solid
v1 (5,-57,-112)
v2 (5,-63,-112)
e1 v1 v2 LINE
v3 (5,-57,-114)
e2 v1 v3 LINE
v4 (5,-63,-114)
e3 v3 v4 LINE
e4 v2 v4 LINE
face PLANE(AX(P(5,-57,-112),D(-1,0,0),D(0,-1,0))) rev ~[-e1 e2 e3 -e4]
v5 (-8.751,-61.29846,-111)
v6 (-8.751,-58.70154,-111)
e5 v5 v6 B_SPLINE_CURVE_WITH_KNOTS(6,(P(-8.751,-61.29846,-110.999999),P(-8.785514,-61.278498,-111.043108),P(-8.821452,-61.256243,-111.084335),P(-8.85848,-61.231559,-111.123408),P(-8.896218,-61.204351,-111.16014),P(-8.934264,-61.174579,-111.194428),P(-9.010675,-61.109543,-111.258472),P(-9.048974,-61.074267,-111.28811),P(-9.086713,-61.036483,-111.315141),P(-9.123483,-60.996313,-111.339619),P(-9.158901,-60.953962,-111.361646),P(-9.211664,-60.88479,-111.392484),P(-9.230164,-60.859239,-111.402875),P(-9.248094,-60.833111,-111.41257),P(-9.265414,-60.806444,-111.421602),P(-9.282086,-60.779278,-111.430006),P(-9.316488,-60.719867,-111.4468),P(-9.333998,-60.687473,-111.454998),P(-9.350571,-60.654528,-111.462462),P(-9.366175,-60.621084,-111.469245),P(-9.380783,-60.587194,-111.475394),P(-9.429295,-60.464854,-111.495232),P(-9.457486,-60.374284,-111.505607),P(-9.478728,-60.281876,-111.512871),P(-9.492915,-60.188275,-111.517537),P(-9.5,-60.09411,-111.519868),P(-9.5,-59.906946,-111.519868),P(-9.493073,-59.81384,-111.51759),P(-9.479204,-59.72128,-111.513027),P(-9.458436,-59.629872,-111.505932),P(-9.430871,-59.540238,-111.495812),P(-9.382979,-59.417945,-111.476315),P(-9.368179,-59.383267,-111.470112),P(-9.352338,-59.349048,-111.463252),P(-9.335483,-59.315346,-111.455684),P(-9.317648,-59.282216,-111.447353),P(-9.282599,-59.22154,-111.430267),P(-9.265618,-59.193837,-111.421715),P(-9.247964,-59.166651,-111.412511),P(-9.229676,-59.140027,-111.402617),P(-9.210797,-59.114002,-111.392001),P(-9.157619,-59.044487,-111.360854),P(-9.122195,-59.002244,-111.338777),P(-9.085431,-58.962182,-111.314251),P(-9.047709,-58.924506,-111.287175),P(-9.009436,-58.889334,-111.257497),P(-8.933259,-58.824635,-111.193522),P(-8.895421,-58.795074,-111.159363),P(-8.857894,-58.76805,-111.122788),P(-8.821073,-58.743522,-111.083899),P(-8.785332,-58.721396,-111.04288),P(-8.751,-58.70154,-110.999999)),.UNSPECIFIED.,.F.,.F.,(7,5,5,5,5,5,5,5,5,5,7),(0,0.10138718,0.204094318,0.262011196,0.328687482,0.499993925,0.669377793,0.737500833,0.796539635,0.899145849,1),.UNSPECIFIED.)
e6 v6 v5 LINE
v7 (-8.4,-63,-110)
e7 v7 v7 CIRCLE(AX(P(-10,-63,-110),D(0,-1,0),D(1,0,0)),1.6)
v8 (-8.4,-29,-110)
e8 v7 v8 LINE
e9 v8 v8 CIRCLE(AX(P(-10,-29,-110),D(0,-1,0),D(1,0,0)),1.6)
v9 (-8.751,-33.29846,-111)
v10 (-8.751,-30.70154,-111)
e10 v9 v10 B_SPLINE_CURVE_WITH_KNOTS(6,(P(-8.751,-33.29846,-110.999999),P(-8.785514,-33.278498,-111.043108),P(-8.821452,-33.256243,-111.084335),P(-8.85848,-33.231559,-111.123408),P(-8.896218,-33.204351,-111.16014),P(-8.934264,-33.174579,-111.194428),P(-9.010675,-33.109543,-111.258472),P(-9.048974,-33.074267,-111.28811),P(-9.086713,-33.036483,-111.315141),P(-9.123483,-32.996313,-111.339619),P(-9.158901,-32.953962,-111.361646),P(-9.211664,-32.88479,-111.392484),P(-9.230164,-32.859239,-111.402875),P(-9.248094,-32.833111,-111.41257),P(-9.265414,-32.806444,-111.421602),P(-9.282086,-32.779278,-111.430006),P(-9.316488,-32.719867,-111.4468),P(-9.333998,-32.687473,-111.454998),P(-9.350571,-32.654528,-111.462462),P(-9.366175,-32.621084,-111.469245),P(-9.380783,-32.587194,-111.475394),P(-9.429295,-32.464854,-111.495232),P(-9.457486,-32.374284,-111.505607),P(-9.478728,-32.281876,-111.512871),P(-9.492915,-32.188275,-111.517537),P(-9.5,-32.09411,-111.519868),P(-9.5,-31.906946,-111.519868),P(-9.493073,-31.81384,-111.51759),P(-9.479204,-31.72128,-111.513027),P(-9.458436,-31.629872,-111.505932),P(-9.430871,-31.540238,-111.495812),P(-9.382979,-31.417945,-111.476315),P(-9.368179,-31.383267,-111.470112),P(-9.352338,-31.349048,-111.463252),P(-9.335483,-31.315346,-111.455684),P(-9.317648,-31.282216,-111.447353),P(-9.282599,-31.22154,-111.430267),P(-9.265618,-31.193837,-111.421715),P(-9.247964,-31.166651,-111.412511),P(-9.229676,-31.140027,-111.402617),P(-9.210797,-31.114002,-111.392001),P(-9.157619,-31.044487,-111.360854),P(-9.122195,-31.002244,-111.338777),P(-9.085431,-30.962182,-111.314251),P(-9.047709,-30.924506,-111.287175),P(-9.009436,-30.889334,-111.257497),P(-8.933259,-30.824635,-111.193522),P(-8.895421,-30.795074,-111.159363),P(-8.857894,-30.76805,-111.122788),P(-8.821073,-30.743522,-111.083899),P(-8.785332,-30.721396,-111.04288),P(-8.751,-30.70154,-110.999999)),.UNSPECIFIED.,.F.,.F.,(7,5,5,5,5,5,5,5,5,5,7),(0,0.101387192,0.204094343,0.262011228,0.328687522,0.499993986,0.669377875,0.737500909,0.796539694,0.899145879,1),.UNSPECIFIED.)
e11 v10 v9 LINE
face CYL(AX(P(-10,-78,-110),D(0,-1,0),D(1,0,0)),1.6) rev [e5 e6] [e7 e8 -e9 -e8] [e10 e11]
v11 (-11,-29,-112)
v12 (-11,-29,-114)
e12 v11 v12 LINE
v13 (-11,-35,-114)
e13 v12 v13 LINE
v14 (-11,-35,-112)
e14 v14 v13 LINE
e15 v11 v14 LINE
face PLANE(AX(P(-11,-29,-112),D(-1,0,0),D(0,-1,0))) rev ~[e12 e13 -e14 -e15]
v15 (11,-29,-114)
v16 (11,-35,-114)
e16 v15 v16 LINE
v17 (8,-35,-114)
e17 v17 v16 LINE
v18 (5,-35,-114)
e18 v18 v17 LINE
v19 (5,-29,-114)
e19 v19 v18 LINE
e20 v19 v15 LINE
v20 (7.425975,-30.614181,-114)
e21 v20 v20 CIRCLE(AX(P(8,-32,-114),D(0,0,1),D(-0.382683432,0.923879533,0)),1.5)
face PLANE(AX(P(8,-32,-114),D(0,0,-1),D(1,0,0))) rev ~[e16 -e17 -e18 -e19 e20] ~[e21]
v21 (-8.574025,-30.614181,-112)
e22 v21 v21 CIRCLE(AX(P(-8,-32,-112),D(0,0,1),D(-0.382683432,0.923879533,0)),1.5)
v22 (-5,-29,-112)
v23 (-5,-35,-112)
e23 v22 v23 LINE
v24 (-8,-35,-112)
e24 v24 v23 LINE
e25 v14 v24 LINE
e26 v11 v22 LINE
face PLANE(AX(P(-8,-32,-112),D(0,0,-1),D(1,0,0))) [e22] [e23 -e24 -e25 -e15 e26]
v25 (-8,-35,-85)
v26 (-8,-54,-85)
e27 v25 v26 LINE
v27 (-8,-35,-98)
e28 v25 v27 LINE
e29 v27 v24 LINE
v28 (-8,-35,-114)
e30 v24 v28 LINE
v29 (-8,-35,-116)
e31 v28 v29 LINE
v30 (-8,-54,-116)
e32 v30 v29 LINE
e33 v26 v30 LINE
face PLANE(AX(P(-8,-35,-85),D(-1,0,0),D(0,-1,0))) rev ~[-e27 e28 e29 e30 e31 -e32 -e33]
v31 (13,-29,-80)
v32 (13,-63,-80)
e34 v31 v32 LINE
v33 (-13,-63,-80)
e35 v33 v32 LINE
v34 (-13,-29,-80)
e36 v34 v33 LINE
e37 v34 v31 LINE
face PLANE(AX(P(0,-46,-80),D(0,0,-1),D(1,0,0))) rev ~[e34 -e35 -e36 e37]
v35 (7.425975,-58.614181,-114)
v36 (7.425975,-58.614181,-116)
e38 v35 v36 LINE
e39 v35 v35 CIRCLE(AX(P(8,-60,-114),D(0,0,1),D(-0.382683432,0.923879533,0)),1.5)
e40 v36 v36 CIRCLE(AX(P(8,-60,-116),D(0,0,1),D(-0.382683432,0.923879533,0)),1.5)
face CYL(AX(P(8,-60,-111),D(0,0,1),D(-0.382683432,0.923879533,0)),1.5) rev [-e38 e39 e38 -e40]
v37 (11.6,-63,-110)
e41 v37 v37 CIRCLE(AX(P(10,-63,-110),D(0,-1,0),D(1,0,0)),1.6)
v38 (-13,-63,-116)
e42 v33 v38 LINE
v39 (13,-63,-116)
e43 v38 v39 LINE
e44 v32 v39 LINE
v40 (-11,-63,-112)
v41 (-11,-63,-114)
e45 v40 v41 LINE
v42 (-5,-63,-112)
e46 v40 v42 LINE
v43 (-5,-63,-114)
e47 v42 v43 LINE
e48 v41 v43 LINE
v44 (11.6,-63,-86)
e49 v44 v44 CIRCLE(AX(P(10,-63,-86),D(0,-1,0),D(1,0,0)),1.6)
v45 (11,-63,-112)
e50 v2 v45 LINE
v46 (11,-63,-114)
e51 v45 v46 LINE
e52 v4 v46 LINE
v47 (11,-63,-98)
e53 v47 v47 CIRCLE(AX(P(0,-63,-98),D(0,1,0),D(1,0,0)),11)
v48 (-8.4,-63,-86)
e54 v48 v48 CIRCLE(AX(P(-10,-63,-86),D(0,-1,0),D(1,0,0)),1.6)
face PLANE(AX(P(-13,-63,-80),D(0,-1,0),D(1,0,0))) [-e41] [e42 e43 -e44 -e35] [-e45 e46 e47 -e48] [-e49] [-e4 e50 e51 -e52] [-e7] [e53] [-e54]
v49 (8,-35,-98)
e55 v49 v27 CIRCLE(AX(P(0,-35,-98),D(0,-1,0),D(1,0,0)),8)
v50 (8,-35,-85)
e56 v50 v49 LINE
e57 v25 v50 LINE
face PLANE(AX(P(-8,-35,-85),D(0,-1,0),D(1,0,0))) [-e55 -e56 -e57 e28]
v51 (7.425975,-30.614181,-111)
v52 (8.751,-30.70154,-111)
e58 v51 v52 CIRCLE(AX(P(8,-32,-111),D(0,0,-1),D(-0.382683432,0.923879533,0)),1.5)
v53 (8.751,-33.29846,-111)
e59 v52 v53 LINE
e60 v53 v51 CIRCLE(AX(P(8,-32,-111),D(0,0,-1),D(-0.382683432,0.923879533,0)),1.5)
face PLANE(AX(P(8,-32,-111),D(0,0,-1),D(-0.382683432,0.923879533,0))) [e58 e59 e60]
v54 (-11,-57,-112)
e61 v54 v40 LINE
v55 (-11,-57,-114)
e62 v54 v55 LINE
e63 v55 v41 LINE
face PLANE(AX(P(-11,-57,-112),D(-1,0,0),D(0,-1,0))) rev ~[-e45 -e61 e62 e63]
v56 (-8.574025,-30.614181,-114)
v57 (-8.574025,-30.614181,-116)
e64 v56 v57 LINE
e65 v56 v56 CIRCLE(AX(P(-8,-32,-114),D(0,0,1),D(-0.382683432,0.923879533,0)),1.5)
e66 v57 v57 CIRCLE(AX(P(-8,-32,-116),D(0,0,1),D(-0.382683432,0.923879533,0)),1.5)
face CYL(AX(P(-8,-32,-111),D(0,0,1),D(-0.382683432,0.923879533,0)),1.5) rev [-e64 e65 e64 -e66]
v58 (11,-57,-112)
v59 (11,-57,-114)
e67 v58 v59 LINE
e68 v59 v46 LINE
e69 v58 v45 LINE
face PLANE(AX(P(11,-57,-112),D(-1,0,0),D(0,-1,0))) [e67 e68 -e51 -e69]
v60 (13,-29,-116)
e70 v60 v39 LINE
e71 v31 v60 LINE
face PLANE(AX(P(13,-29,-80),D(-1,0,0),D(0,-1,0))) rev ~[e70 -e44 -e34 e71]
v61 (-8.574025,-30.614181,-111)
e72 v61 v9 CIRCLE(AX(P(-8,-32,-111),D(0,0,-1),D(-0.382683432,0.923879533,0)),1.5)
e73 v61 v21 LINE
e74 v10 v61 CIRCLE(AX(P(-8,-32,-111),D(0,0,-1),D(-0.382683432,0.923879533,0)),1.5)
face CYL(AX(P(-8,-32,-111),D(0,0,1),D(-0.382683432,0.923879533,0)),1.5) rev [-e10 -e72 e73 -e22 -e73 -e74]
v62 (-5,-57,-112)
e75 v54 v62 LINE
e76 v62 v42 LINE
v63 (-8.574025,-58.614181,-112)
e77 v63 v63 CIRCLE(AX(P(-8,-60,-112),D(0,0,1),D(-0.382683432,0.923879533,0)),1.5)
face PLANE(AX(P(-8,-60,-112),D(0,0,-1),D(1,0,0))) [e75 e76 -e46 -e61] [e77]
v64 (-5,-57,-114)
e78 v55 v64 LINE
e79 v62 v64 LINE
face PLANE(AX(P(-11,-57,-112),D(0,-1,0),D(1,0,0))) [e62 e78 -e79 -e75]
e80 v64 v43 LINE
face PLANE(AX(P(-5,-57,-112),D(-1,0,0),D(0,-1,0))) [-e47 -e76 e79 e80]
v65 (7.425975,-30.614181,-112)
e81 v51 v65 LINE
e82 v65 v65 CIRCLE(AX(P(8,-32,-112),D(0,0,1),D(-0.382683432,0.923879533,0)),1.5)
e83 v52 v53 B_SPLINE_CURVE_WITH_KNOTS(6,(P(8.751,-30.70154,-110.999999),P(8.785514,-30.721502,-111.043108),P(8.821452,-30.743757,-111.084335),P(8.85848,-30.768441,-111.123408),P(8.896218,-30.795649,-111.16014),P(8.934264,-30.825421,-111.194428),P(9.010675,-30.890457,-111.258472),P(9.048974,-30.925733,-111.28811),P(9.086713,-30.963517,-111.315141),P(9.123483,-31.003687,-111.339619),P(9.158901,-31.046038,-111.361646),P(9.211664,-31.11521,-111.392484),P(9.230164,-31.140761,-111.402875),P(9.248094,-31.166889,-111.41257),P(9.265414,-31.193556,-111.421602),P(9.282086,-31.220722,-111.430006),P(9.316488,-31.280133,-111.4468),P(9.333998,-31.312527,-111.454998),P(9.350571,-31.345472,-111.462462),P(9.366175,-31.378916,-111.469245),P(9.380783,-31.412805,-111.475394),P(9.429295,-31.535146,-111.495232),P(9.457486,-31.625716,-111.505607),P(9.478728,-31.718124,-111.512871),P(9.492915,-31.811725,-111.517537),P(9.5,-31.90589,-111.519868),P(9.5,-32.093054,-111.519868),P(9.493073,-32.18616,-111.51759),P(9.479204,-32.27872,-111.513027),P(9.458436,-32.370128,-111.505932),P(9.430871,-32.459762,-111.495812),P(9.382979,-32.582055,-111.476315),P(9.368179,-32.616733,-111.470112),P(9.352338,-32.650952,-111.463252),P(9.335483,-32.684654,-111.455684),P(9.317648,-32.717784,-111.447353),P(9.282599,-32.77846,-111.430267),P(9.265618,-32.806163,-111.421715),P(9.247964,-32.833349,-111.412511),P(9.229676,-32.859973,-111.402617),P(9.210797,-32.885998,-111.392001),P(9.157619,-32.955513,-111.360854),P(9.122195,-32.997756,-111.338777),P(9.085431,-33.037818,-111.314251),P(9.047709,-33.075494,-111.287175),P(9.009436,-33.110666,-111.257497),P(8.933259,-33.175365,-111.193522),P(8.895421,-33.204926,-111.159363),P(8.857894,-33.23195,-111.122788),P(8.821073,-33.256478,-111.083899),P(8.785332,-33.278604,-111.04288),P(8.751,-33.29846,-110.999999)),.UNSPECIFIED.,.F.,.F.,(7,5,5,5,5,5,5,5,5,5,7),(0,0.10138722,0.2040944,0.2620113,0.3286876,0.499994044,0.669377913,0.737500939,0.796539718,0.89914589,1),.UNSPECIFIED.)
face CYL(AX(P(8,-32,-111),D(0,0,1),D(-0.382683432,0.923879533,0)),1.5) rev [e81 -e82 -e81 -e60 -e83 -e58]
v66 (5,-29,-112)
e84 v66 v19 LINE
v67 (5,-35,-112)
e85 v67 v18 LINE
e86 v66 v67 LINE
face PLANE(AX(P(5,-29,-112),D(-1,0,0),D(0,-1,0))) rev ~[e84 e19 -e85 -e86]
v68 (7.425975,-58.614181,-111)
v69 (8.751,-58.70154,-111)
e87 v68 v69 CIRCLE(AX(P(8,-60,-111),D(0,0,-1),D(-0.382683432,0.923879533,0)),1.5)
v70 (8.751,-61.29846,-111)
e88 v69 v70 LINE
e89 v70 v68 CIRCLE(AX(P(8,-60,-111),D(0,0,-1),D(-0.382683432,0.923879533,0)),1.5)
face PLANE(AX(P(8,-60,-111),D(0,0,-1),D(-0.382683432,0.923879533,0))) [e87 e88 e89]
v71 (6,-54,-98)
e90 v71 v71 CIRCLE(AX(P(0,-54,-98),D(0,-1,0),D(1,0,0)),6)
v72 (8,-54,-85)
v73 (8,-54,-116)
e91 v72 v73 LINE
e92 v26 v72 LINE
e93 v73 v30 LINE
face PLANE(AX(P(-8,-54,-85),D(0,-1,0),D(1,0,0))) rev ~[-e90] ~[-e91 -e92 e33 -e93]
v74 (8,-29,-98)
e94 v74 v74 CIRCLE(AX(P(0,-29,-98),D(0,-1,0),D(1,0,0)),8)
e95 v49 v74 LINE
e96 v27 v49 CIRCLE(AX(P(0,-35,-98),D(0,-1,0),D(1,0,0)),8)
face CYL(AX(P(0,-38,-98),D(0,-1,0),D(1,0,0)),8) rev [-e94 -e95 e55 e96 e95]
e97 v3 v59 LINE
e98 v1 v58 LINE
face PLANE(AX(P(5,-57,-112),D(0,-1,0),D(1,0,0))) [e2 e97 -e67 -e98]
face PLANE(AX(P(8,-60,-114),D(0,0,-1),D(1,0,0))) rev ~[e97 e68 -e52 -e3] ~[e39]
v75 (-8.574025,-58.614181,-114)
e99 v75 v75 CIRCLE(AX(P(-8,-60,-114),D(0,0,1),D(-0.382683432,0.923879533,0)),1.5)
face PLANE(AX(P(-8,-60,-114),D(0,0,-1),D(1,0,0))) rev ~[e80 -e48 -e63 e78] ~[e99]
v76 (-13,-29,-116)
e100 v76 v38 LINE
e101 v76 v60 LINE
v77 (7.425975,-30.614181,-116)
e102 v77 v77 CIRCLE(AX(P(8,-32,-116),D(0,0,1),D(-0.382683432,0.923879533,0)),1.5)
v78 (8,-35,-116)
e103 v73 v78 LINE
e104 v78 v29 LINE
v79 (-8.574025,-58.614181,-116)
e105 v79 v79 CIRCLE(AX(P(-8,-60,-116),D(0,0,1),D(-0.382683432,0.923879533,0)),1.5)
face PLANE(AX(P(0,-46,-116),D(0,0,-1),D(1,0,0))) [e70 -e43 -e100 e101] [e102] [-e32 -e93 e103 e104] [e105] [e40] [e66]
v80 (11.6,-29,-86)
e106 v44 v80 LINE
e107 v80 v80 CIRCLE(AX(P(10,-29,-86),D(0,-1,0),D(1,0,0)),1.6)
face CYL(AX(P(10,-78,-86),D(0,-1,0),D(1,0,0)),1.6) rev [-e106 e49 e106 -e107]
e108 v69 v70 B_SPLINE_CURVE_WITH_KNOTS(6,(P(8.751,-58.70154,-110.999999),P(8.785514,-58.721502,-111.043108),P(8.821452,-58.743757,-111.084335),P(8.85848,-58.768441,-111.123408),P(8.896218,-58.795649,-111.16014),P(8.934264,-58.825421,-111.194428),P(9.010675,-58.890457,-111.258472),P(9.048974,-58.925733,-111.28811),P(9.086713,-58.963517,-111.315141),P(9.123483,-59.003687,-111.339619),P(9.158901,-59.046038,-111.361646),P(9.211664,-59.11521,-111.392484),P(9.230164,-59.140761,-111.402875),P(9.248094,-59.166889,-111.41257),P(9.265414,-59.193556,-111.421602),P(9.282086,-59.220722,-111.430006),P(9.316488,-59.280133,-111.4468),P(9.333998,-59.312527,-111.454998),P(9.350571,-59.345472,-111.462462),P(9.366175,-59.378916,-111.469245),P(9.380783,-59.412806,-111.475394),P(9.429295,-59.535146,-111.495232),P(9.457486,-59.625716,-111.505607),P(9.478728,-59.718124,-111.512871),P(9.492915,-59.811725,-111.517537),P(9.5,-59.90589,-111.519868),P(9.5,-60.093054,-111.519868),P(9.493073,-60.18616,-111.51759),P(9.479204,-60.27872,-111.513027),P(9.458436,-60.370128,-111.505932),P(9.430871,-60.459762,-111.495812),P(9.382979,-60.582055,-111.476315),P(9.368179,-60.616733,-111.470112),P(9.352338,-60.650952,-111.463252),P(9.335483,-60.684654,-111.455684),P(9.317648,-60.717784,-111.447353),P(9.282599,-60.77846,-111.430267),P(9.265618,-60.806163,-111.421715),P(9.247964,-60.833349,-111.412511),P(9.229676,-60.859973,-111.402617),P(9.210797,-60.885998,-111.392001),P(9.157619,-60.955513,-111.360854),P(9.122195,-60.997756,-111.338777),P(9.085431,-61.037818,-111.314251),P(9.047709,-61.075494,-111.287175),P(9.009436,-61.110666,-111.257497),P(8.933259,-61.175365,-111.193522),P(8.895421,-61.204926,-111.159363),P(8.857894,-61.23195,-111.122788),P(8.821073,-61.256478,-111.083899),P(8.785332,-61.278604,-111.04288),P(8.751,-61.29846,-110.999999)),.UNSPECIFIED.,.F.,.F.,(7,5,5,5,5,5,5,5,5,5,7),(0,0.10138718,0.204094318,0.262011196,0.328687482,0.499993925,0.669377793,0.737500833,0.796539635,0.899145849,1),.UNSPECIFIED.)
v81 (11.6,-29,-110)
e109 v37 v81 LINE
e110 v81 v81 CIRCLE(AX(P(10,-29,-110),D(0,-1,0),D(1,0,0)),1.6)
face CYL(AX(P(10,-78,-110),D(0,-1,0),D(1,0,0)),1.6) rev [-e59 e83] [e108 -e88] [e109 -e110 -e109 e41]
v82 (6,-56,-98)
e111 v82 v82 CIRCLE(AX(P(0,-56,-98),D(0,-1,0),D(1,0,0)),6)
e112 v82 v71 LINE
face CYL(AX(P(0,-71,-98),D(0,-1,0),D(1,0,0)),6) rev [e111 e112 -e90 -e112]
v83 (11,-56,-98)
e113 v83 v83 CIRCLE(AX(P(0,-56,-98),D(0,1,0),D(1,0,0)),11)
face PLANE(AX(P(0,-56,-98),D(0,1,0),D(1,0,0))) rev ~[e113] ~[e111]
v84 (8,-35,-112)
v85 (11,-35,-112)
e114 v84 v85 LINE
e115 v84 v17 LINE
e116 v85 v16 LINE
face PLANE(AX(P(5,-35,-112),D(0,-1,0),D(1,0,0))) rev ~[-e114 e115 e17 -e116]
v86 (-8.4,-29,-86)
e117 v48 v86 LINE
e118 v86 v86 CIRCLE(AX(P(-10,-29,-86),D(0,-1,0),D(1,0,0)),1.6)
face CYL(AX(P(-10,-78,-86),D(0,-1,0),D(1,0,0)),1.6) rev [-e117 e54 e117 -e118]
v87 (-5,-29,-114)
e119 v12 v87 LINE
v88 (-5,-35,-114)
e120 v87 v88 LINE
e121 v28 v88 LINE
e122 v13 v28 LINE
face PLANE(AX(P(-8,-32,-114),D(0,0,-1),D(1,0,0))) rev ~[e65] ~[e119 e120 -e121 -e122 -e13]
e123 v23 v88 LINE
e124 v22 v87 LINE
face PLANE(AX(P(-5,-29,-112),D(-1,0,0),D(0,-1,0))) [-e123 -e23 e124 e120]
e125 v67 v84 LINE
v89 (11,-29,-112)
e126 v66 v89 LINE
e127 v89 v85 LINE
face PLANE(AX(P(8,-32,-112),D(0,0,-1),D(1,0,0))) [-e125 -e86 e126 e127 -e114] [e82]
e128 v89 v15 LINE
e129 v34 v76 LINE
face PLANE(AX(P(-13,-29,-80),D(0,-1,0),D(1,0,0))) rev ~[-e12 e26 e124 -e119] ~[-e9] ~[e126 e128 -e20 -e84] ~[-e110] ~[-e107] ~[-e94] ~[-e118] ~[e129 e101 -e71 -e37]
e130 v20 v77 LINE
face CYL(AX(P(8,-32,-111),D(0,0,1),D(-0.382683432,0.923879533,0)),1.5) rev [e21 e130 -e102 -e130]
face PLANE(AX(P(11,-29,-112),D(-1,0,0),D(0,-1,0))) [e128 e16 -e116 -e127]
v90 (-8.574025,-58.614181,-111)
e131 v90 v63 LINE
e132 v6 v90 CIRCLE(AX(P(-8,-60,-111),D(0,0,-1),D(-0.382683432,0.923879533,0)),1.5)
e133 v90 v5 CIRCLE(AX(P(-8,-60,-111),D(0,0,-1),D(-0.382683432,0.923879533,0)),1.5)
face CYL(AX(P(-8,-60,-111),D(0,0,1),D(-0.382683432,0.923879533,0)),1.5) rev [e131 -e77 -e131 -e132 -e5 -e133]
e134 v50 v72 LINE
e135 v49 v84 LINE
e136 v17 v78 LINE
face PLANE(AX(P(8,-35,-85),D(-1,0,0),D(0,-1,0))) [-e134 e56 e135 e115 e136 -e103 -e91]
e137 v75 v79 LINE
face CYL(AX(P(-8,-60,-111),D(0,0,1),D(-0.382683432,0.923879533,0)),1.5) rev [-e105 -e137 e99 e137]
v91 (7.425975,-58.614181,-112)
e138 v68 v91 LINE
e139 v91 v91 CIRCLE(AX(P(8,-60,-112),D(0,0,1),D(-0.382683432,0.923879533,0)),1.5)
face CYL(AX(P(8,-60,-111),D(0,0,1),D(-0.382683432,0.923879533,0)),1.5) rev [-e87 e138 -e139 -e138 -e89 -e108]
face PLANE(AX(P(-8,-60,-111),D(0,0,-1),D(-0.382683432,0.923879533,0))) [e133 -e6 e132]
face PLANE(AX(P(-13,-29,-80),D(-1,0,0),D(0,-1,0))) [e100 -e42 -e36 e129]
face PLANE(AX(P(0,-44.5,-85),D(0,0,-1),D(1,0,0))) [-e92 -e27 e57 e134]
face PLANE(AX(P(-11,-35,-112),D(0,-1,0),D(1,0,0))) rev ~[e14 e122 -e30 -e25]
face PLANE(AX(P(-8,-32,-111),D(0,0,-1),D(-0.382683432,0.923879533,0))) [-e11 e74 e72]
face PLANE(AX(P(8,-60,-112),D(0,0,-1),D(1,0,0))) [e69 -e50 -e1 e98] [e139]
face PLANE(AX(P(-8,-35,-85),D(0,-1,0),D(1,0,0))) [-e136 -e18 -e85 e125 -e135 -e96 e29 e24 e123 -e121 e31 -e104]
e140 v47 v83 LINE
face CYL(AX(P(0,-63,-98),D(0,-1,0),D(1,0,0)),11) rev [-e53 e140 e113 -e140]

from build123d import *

# Parameters (mm, degrees)
CYLINDER541_R               = 1.5
CYLINDER541_DEPTH           = 20
CYLINDER541_PLACEMENT_ANGLE = -112.5
CYLINDER542_R               = 1.5
CYLINDER542_DEPTH           = 20
CYLINDER542_PLACEMENT_ANGLE = 112.5
CYLINDER543_R               = 1.5
CYLINDER543_DEPTH           = 20
CYLINDER543_PLACEMENT_ANGLE = 112.5
CYLINDER540_R               = 1.5
CYLINDER540_DEPTH           = 20
CYLINDER540_PLACEMENT_ANGLE = -112.5
BOX742_W                    = 6
BOX742_H                    = 6
BOX742_DEPTH                = 2
BOX743_W                    = 6
BOX743_H                    = 6
BOX743_DEPTH                = 2
BOX744_W                    = 6
BOX744_H                    = 6
BOX744_DEPTH                = 2
BOX741_W                    = 6
BOX741_H                    = 6
BOX741_DEPTH                = 2
CYLINDER538_R               = 3
CYLINDER538_DEPTH           = 3
CYLINDER537_R               = 3
CYLINDER537_DEPTH           = 3
CYLINDER536_R               = 3
CYLINDER536_DEPTH           = 3
CYLINDER539_R               = 3
CYLINDER539_DEPTH           = 3
CYLINDER535_R               = 1.6
CYLINDER535_DEPTH           = 80
CYLINDER533_R               = 1.6
CYLINDER533_DEPTH           = 80
CYLINDER534_R               = 1.6
CYLINDER534_DEPTH           = 80
CYLINDER532_R               = 1.6
CYLINDER532_DEPTH           = 80
CYLINDER531_R               = 6
CYLINDER531_DEPTH           = 20
CYLINDER530_R               = 11
CYLINDER530_DEPTH           = 7
CYLINDER529_R               = 8
CYLINDER529_DEPTH           = 20
BOX740_W                    = 16
BOX740_H                    = 19
BOX740_DEPTH                = 50
BOX739_W                    = 26
BOX739_H                    = 34
BOX739_DEPTH                = 36
CUT681_PLACEMENT_ANGLE      = 180


with BuildPart() as v_lec541:
    # Cylinder541 → Cylinder541 (new body)
    with BuildSketch(Plane.XY):
        Circle(CYLINDER541_R)
    extrude(amount=CYLINDER541_DEPTH)


with BuildPart() as v_lec541_1:
    # Cylinder541 placement: moved
    add(v_lec541.part.moved(Location((-8, 34, 51))).rotate(Axis((-8, 34, 51), (0, 0, 1)), CYLINDER541_PLACEMENT_ANGLE))


with BuildPart() as v_lec542:
    # Cylinder542 → Cylinder542 (new body)
    with BuildSketch(Plane.XY):
        Circle(CYLINDER542_R)
    extrude(amount=CYLINDER542_DEPTH)


with BuildPart() as v_lec542_1:
    # Cylinder542 placement: moved
    add(v_lec542.part.moved(Location((8, 62, 51))).rotate(Axis((8, 62, 51), (0, 0, -1)), CYLINDER542_PLACEMENT_ANGLE))


with BuildPart() as v_lec543:
    # Cylinder543 → Cylinder543 (new body)
    with BuildSketch(Plane.XY):
        Circle(CYLINDER543_R)
    extrude(amount=CYLINDER543_DEPTH)


with BuildPart() as v_lec543_1:
    # Cylinder543 placement: moved
    add(v_lec543.part.moved(Location((-8, 62, 51))).rotate(Axis((-8, 62, 51), (0, 0, -1)), CYLINDER543_PLACEMENT_ANGLE))


with BuildPart() as compound423:
    # Cylinder540 → Cylinder540 (new body)
    with BuildSketch(Plane.XY):
        Circle(CYLINDER540_R)
    extrude(amount=CYLINDER540_DEPTH)


with BuildPart() as compound423_1:
    # Cylinder540 placement: moved
    add(compound423.part.moved(Location((8, 34, 51))).rotate(Axis((8, 34, 51), (0, 0, 1)), CYLINDER540_PLACEMENT_ANGLE))

    # Compound423: union Válec541, Válec542, Válec543
    add(v_lec541_1.part)
    add(v_lec542_1.part)
    add(v_lec543_1.part)


with BuildPart() as compound423_2:
    # Compound423 placement: moved
    add(compound423_1.part.moved(Location((0, 0, 5))))


with BuildPart() as krychle741:
    # Box742 → Box742 (new body)
    with BuildSketch(Plane(origin=(5, 59, 53), x_dir=(1, 0, 0), z_dir=(0, 0, 1))):
        with Locations((3, 3)):
            Rectangle(BOX742_W, BOX742_H)
    extrude(amount=BOX742_DEPTH)


with BuildPart() as krychle742:
    # Box743 → Box743 (new body)
    with BuildSketch(Plane(origin=(5, 31, 53), x_dir=(1, 0, 0), z_dir=(0, 0, 1))):
        with Locations((3, 3)):
            Rectangle(BOX743_W, BOX743_H)
    extrude(amount=BOX743_DEPTH)


with BuildPart() as krychle743:
    # Box744 → Box744 (new body)
    with BuildSketch(Plane(origin=(-11, 31, 53), x_dir=(1, 0, 0), z_dir=(0, 0, 1))):
        with Locations((3, 3)):
            Rectangle(BOX744_W, BOX744_H)
    extrude(amount=BOX744_DEPTH)


with BuildPart() as compound422:
    # Box741 → Box741 (new body)
    with BuildSketch(Plane(origin=(-11, 59, 53), x_dir=(1, 0, 0), z_dir=(0, 0, 1))):
        with Locations((3, 3)):
            Rectangle(BOX741_W, BOX741_H)
    extrude(amount=BOX741_DEPTH)

    # Compound422: union Krychle741, Krychle742, Krychle743
    add(krychle741.part)
    add(krychle742.part)
    add(krychle743.part)


with BuildPart() as compound422_1:
    # Compound422 placement: moved
    add(compound422.part.moved(Location((0, 0, 4))))


with BuildPart() as v_lec538:
    # Cylinder538 → Cylinder538 (new body)
    with BuildSketch(Plane(origin=(-10, 80, 31), x_dir=(1, 0, 0), z_dir=(0, -1, 0))):
        Circle(CYLINDER538_R)
    extrude(amount=CYLINDER538_DEPTH)


with BuildPart() as v_lec537:
    # Cylinder537 → Cylinder537 (new body)
    with BuildSketch(Plane(origin=(10, 80, 55), x_dir=(1, 0, 0), z_dir=(0, -1, 0))):
        Circle(CYLINDER537_R)
    extrude(amount=CYLINDER537_DEPTH)


with BuildPart() as v_lec536:
    # Cylinder536 → Cylinder536 (new body)
    with BuildSketch(Plane(origin=(10, 80, 31), x_dir=(1, 0, 0), z_dir=(0, -1, 0))):
        Circle(CYLINDER536_R)
    extrude(amount=CYLINDER536_DEPTH)


with BuildPart() as compound421:
    # Cylinder539 → Cylinder539 (new body)
    with BuildSketch(Plane(origin=(-10, 80, 55), x_dir=(1, 0, 0), z_dir=(0, -1, 0))):
        Circle(CYLINDER539_R)
    extrude(amount=CYLINDER539_DEPTH)

    # Compound421: union Válec538, Válec537, Válec536
    add(v_lec538.part)
    add(v_lec537.part)
    add(v_lec536.part)


with BuildPart() as compound421_1:
    # Compound421 placement: moved
    add(compound421.part.moved(Location((0, -8, 0))))


with BuildPart() as v_lec535:
    # Cylinder535 → Cylinder535 (new body)
    with BuildSketch(Plane(origin=(-10, 80, 31), x_dir=(1, 0, 0), z_dir=(0, -1, 0))):
        Circle(CYLINDER535_R)
    extrude(amount=CYLINDER535_DEPTH)


with BuildPart() as v_lec533:
    # Cylinder533 → Cylinder533 (new body)
    with BuildSketch(Plane(origin=(10, 80, 55), x_dir=(1, 0, 0), z_dir=(0, -1, 0))):
        Circle(CYLINDER533_R)
    extrude(amount=CYLINDER533_DEPTH)


with BuildPart() as v_lec534:
    # Cylinder534 → Cylinder534 (new body)
    with BuildSketch(Plane(origin=(10, 80, 31), x_dir=(1, 0, 0), z_dir=(0, -1, 0))):
        Circle(CYLINDER534_R)
    extrude(amount=CYLINDER534_DEPTH)


with BuildPart() as compound420:
    # Cylinder532 → Cylinder532 (new body)
    with BuildSketch(Plane(origin=(-10, 80, 55), x_dir=(1, 0, 0), z_dir=(0, -1, 0))):
        Circle(CYLINDER532_R)
    extrude(amount=CYLINDER532_DEPTH)

    # Compound420: union Válec535, Válec533, Válec534
    add(v_lec535.part)
    add(v_lec533.part)
    add(v_lec534.part)


with BuildPart() as v_lec531:
    # Cylinder531 → Cylinder531 (new body)
    with BuildSketch(Plane(origin=(0, 73, 43), x_dir=(1, 0, 0), z_dir=(0, -1, 0))):
        Circle(CYLINDER531_R)
    extrude(amount=CYLINDER531_DEPTH)


with BuildPart() as v_lec530:
    # Cylinder530 → Cylinder530 (new body)
    with BuildSketch(Plane(origin=(0, 65, 43), x_dir=(1, 0, 0), z_dir=(0, -1, 0))):
        Circle(CYLINDER530_R)
    extrude(amount=CYLINDER530_DEPTH)


with BuildPart() as v_lec529:
    # Cylinder529 → Cylinder529 (new body)
    with BuildSketch(Plane(origin=(0, 40, 43), x_dir=(1, 0, 0), z_dir=(0, -1, 0))):
        Circle(CYLINDER529_R)
    extrude(amount=CYLINDER529_DEPTH)


with BuildPart() as krychle739:
    # Box740 → Box740 (new body)
    with BuildSketch(Plane(origin=(-8, 37, 30), x_dir=(1, 0, 0), z_dir=(0, 0, 1))):
        with Locations((8, 9.5)):
            Rectangle(BOX740_W, BOX740_H)
    extrude(amount=BOX740_DEPTH)


with BuildPart() as t_mini_small_box:
    # Box739 → Box739 (new body)
    with BuildSketch(Plane(origin=(-13, 31, 25), x_dir=(1, 0, 0), z_dir=(0, 0, 1))):
        with Locations((13, 17)):
            Rectangle(BOX739_W, BOX739_H)
    extrude(amount=BOX739_DEPTH)

    # Cut675: cut Krychle739
    add(krychle739.part, mode=Mode.SUBTRACT)

    # Cut076: cut Válec529
    add(v_lec529.part, mode=Mode.SUBTRACT)

    # Cut676: cut Válec530
    add(v_lec530.part, mode=Mode.SUBTRACT)

    # Cut677: cut Válec531
    add(v_lec531.part, mode=Mode.SUBTRACT)

    # Cut678: cut Compound420
    add(compound420.part, mode=Mode.SUBTRACT)

    # Cut679: cut Compound421
    add(compound421_1.part, mode=Mode.SUBTRACT)

    # Cut680: cut Compound422
    add(compound422_1.part, mode=Mode.SUBTRACT)

    # Cut681: cut Compound423
    add(compound423_2.part, mode=Mode.SUBTRACT)


with BuildPart() as t_mini_small_box_1:
    # Cut681 placement: moved
    add(t_mini_small_box.part.moved(Location((0, 2, -55))).rotate(Axis((0, 2, -55), (1, 0, 0)), CUT681_PLACEMENT_ANGLE))


solid = t_mini_small_box_1.part
